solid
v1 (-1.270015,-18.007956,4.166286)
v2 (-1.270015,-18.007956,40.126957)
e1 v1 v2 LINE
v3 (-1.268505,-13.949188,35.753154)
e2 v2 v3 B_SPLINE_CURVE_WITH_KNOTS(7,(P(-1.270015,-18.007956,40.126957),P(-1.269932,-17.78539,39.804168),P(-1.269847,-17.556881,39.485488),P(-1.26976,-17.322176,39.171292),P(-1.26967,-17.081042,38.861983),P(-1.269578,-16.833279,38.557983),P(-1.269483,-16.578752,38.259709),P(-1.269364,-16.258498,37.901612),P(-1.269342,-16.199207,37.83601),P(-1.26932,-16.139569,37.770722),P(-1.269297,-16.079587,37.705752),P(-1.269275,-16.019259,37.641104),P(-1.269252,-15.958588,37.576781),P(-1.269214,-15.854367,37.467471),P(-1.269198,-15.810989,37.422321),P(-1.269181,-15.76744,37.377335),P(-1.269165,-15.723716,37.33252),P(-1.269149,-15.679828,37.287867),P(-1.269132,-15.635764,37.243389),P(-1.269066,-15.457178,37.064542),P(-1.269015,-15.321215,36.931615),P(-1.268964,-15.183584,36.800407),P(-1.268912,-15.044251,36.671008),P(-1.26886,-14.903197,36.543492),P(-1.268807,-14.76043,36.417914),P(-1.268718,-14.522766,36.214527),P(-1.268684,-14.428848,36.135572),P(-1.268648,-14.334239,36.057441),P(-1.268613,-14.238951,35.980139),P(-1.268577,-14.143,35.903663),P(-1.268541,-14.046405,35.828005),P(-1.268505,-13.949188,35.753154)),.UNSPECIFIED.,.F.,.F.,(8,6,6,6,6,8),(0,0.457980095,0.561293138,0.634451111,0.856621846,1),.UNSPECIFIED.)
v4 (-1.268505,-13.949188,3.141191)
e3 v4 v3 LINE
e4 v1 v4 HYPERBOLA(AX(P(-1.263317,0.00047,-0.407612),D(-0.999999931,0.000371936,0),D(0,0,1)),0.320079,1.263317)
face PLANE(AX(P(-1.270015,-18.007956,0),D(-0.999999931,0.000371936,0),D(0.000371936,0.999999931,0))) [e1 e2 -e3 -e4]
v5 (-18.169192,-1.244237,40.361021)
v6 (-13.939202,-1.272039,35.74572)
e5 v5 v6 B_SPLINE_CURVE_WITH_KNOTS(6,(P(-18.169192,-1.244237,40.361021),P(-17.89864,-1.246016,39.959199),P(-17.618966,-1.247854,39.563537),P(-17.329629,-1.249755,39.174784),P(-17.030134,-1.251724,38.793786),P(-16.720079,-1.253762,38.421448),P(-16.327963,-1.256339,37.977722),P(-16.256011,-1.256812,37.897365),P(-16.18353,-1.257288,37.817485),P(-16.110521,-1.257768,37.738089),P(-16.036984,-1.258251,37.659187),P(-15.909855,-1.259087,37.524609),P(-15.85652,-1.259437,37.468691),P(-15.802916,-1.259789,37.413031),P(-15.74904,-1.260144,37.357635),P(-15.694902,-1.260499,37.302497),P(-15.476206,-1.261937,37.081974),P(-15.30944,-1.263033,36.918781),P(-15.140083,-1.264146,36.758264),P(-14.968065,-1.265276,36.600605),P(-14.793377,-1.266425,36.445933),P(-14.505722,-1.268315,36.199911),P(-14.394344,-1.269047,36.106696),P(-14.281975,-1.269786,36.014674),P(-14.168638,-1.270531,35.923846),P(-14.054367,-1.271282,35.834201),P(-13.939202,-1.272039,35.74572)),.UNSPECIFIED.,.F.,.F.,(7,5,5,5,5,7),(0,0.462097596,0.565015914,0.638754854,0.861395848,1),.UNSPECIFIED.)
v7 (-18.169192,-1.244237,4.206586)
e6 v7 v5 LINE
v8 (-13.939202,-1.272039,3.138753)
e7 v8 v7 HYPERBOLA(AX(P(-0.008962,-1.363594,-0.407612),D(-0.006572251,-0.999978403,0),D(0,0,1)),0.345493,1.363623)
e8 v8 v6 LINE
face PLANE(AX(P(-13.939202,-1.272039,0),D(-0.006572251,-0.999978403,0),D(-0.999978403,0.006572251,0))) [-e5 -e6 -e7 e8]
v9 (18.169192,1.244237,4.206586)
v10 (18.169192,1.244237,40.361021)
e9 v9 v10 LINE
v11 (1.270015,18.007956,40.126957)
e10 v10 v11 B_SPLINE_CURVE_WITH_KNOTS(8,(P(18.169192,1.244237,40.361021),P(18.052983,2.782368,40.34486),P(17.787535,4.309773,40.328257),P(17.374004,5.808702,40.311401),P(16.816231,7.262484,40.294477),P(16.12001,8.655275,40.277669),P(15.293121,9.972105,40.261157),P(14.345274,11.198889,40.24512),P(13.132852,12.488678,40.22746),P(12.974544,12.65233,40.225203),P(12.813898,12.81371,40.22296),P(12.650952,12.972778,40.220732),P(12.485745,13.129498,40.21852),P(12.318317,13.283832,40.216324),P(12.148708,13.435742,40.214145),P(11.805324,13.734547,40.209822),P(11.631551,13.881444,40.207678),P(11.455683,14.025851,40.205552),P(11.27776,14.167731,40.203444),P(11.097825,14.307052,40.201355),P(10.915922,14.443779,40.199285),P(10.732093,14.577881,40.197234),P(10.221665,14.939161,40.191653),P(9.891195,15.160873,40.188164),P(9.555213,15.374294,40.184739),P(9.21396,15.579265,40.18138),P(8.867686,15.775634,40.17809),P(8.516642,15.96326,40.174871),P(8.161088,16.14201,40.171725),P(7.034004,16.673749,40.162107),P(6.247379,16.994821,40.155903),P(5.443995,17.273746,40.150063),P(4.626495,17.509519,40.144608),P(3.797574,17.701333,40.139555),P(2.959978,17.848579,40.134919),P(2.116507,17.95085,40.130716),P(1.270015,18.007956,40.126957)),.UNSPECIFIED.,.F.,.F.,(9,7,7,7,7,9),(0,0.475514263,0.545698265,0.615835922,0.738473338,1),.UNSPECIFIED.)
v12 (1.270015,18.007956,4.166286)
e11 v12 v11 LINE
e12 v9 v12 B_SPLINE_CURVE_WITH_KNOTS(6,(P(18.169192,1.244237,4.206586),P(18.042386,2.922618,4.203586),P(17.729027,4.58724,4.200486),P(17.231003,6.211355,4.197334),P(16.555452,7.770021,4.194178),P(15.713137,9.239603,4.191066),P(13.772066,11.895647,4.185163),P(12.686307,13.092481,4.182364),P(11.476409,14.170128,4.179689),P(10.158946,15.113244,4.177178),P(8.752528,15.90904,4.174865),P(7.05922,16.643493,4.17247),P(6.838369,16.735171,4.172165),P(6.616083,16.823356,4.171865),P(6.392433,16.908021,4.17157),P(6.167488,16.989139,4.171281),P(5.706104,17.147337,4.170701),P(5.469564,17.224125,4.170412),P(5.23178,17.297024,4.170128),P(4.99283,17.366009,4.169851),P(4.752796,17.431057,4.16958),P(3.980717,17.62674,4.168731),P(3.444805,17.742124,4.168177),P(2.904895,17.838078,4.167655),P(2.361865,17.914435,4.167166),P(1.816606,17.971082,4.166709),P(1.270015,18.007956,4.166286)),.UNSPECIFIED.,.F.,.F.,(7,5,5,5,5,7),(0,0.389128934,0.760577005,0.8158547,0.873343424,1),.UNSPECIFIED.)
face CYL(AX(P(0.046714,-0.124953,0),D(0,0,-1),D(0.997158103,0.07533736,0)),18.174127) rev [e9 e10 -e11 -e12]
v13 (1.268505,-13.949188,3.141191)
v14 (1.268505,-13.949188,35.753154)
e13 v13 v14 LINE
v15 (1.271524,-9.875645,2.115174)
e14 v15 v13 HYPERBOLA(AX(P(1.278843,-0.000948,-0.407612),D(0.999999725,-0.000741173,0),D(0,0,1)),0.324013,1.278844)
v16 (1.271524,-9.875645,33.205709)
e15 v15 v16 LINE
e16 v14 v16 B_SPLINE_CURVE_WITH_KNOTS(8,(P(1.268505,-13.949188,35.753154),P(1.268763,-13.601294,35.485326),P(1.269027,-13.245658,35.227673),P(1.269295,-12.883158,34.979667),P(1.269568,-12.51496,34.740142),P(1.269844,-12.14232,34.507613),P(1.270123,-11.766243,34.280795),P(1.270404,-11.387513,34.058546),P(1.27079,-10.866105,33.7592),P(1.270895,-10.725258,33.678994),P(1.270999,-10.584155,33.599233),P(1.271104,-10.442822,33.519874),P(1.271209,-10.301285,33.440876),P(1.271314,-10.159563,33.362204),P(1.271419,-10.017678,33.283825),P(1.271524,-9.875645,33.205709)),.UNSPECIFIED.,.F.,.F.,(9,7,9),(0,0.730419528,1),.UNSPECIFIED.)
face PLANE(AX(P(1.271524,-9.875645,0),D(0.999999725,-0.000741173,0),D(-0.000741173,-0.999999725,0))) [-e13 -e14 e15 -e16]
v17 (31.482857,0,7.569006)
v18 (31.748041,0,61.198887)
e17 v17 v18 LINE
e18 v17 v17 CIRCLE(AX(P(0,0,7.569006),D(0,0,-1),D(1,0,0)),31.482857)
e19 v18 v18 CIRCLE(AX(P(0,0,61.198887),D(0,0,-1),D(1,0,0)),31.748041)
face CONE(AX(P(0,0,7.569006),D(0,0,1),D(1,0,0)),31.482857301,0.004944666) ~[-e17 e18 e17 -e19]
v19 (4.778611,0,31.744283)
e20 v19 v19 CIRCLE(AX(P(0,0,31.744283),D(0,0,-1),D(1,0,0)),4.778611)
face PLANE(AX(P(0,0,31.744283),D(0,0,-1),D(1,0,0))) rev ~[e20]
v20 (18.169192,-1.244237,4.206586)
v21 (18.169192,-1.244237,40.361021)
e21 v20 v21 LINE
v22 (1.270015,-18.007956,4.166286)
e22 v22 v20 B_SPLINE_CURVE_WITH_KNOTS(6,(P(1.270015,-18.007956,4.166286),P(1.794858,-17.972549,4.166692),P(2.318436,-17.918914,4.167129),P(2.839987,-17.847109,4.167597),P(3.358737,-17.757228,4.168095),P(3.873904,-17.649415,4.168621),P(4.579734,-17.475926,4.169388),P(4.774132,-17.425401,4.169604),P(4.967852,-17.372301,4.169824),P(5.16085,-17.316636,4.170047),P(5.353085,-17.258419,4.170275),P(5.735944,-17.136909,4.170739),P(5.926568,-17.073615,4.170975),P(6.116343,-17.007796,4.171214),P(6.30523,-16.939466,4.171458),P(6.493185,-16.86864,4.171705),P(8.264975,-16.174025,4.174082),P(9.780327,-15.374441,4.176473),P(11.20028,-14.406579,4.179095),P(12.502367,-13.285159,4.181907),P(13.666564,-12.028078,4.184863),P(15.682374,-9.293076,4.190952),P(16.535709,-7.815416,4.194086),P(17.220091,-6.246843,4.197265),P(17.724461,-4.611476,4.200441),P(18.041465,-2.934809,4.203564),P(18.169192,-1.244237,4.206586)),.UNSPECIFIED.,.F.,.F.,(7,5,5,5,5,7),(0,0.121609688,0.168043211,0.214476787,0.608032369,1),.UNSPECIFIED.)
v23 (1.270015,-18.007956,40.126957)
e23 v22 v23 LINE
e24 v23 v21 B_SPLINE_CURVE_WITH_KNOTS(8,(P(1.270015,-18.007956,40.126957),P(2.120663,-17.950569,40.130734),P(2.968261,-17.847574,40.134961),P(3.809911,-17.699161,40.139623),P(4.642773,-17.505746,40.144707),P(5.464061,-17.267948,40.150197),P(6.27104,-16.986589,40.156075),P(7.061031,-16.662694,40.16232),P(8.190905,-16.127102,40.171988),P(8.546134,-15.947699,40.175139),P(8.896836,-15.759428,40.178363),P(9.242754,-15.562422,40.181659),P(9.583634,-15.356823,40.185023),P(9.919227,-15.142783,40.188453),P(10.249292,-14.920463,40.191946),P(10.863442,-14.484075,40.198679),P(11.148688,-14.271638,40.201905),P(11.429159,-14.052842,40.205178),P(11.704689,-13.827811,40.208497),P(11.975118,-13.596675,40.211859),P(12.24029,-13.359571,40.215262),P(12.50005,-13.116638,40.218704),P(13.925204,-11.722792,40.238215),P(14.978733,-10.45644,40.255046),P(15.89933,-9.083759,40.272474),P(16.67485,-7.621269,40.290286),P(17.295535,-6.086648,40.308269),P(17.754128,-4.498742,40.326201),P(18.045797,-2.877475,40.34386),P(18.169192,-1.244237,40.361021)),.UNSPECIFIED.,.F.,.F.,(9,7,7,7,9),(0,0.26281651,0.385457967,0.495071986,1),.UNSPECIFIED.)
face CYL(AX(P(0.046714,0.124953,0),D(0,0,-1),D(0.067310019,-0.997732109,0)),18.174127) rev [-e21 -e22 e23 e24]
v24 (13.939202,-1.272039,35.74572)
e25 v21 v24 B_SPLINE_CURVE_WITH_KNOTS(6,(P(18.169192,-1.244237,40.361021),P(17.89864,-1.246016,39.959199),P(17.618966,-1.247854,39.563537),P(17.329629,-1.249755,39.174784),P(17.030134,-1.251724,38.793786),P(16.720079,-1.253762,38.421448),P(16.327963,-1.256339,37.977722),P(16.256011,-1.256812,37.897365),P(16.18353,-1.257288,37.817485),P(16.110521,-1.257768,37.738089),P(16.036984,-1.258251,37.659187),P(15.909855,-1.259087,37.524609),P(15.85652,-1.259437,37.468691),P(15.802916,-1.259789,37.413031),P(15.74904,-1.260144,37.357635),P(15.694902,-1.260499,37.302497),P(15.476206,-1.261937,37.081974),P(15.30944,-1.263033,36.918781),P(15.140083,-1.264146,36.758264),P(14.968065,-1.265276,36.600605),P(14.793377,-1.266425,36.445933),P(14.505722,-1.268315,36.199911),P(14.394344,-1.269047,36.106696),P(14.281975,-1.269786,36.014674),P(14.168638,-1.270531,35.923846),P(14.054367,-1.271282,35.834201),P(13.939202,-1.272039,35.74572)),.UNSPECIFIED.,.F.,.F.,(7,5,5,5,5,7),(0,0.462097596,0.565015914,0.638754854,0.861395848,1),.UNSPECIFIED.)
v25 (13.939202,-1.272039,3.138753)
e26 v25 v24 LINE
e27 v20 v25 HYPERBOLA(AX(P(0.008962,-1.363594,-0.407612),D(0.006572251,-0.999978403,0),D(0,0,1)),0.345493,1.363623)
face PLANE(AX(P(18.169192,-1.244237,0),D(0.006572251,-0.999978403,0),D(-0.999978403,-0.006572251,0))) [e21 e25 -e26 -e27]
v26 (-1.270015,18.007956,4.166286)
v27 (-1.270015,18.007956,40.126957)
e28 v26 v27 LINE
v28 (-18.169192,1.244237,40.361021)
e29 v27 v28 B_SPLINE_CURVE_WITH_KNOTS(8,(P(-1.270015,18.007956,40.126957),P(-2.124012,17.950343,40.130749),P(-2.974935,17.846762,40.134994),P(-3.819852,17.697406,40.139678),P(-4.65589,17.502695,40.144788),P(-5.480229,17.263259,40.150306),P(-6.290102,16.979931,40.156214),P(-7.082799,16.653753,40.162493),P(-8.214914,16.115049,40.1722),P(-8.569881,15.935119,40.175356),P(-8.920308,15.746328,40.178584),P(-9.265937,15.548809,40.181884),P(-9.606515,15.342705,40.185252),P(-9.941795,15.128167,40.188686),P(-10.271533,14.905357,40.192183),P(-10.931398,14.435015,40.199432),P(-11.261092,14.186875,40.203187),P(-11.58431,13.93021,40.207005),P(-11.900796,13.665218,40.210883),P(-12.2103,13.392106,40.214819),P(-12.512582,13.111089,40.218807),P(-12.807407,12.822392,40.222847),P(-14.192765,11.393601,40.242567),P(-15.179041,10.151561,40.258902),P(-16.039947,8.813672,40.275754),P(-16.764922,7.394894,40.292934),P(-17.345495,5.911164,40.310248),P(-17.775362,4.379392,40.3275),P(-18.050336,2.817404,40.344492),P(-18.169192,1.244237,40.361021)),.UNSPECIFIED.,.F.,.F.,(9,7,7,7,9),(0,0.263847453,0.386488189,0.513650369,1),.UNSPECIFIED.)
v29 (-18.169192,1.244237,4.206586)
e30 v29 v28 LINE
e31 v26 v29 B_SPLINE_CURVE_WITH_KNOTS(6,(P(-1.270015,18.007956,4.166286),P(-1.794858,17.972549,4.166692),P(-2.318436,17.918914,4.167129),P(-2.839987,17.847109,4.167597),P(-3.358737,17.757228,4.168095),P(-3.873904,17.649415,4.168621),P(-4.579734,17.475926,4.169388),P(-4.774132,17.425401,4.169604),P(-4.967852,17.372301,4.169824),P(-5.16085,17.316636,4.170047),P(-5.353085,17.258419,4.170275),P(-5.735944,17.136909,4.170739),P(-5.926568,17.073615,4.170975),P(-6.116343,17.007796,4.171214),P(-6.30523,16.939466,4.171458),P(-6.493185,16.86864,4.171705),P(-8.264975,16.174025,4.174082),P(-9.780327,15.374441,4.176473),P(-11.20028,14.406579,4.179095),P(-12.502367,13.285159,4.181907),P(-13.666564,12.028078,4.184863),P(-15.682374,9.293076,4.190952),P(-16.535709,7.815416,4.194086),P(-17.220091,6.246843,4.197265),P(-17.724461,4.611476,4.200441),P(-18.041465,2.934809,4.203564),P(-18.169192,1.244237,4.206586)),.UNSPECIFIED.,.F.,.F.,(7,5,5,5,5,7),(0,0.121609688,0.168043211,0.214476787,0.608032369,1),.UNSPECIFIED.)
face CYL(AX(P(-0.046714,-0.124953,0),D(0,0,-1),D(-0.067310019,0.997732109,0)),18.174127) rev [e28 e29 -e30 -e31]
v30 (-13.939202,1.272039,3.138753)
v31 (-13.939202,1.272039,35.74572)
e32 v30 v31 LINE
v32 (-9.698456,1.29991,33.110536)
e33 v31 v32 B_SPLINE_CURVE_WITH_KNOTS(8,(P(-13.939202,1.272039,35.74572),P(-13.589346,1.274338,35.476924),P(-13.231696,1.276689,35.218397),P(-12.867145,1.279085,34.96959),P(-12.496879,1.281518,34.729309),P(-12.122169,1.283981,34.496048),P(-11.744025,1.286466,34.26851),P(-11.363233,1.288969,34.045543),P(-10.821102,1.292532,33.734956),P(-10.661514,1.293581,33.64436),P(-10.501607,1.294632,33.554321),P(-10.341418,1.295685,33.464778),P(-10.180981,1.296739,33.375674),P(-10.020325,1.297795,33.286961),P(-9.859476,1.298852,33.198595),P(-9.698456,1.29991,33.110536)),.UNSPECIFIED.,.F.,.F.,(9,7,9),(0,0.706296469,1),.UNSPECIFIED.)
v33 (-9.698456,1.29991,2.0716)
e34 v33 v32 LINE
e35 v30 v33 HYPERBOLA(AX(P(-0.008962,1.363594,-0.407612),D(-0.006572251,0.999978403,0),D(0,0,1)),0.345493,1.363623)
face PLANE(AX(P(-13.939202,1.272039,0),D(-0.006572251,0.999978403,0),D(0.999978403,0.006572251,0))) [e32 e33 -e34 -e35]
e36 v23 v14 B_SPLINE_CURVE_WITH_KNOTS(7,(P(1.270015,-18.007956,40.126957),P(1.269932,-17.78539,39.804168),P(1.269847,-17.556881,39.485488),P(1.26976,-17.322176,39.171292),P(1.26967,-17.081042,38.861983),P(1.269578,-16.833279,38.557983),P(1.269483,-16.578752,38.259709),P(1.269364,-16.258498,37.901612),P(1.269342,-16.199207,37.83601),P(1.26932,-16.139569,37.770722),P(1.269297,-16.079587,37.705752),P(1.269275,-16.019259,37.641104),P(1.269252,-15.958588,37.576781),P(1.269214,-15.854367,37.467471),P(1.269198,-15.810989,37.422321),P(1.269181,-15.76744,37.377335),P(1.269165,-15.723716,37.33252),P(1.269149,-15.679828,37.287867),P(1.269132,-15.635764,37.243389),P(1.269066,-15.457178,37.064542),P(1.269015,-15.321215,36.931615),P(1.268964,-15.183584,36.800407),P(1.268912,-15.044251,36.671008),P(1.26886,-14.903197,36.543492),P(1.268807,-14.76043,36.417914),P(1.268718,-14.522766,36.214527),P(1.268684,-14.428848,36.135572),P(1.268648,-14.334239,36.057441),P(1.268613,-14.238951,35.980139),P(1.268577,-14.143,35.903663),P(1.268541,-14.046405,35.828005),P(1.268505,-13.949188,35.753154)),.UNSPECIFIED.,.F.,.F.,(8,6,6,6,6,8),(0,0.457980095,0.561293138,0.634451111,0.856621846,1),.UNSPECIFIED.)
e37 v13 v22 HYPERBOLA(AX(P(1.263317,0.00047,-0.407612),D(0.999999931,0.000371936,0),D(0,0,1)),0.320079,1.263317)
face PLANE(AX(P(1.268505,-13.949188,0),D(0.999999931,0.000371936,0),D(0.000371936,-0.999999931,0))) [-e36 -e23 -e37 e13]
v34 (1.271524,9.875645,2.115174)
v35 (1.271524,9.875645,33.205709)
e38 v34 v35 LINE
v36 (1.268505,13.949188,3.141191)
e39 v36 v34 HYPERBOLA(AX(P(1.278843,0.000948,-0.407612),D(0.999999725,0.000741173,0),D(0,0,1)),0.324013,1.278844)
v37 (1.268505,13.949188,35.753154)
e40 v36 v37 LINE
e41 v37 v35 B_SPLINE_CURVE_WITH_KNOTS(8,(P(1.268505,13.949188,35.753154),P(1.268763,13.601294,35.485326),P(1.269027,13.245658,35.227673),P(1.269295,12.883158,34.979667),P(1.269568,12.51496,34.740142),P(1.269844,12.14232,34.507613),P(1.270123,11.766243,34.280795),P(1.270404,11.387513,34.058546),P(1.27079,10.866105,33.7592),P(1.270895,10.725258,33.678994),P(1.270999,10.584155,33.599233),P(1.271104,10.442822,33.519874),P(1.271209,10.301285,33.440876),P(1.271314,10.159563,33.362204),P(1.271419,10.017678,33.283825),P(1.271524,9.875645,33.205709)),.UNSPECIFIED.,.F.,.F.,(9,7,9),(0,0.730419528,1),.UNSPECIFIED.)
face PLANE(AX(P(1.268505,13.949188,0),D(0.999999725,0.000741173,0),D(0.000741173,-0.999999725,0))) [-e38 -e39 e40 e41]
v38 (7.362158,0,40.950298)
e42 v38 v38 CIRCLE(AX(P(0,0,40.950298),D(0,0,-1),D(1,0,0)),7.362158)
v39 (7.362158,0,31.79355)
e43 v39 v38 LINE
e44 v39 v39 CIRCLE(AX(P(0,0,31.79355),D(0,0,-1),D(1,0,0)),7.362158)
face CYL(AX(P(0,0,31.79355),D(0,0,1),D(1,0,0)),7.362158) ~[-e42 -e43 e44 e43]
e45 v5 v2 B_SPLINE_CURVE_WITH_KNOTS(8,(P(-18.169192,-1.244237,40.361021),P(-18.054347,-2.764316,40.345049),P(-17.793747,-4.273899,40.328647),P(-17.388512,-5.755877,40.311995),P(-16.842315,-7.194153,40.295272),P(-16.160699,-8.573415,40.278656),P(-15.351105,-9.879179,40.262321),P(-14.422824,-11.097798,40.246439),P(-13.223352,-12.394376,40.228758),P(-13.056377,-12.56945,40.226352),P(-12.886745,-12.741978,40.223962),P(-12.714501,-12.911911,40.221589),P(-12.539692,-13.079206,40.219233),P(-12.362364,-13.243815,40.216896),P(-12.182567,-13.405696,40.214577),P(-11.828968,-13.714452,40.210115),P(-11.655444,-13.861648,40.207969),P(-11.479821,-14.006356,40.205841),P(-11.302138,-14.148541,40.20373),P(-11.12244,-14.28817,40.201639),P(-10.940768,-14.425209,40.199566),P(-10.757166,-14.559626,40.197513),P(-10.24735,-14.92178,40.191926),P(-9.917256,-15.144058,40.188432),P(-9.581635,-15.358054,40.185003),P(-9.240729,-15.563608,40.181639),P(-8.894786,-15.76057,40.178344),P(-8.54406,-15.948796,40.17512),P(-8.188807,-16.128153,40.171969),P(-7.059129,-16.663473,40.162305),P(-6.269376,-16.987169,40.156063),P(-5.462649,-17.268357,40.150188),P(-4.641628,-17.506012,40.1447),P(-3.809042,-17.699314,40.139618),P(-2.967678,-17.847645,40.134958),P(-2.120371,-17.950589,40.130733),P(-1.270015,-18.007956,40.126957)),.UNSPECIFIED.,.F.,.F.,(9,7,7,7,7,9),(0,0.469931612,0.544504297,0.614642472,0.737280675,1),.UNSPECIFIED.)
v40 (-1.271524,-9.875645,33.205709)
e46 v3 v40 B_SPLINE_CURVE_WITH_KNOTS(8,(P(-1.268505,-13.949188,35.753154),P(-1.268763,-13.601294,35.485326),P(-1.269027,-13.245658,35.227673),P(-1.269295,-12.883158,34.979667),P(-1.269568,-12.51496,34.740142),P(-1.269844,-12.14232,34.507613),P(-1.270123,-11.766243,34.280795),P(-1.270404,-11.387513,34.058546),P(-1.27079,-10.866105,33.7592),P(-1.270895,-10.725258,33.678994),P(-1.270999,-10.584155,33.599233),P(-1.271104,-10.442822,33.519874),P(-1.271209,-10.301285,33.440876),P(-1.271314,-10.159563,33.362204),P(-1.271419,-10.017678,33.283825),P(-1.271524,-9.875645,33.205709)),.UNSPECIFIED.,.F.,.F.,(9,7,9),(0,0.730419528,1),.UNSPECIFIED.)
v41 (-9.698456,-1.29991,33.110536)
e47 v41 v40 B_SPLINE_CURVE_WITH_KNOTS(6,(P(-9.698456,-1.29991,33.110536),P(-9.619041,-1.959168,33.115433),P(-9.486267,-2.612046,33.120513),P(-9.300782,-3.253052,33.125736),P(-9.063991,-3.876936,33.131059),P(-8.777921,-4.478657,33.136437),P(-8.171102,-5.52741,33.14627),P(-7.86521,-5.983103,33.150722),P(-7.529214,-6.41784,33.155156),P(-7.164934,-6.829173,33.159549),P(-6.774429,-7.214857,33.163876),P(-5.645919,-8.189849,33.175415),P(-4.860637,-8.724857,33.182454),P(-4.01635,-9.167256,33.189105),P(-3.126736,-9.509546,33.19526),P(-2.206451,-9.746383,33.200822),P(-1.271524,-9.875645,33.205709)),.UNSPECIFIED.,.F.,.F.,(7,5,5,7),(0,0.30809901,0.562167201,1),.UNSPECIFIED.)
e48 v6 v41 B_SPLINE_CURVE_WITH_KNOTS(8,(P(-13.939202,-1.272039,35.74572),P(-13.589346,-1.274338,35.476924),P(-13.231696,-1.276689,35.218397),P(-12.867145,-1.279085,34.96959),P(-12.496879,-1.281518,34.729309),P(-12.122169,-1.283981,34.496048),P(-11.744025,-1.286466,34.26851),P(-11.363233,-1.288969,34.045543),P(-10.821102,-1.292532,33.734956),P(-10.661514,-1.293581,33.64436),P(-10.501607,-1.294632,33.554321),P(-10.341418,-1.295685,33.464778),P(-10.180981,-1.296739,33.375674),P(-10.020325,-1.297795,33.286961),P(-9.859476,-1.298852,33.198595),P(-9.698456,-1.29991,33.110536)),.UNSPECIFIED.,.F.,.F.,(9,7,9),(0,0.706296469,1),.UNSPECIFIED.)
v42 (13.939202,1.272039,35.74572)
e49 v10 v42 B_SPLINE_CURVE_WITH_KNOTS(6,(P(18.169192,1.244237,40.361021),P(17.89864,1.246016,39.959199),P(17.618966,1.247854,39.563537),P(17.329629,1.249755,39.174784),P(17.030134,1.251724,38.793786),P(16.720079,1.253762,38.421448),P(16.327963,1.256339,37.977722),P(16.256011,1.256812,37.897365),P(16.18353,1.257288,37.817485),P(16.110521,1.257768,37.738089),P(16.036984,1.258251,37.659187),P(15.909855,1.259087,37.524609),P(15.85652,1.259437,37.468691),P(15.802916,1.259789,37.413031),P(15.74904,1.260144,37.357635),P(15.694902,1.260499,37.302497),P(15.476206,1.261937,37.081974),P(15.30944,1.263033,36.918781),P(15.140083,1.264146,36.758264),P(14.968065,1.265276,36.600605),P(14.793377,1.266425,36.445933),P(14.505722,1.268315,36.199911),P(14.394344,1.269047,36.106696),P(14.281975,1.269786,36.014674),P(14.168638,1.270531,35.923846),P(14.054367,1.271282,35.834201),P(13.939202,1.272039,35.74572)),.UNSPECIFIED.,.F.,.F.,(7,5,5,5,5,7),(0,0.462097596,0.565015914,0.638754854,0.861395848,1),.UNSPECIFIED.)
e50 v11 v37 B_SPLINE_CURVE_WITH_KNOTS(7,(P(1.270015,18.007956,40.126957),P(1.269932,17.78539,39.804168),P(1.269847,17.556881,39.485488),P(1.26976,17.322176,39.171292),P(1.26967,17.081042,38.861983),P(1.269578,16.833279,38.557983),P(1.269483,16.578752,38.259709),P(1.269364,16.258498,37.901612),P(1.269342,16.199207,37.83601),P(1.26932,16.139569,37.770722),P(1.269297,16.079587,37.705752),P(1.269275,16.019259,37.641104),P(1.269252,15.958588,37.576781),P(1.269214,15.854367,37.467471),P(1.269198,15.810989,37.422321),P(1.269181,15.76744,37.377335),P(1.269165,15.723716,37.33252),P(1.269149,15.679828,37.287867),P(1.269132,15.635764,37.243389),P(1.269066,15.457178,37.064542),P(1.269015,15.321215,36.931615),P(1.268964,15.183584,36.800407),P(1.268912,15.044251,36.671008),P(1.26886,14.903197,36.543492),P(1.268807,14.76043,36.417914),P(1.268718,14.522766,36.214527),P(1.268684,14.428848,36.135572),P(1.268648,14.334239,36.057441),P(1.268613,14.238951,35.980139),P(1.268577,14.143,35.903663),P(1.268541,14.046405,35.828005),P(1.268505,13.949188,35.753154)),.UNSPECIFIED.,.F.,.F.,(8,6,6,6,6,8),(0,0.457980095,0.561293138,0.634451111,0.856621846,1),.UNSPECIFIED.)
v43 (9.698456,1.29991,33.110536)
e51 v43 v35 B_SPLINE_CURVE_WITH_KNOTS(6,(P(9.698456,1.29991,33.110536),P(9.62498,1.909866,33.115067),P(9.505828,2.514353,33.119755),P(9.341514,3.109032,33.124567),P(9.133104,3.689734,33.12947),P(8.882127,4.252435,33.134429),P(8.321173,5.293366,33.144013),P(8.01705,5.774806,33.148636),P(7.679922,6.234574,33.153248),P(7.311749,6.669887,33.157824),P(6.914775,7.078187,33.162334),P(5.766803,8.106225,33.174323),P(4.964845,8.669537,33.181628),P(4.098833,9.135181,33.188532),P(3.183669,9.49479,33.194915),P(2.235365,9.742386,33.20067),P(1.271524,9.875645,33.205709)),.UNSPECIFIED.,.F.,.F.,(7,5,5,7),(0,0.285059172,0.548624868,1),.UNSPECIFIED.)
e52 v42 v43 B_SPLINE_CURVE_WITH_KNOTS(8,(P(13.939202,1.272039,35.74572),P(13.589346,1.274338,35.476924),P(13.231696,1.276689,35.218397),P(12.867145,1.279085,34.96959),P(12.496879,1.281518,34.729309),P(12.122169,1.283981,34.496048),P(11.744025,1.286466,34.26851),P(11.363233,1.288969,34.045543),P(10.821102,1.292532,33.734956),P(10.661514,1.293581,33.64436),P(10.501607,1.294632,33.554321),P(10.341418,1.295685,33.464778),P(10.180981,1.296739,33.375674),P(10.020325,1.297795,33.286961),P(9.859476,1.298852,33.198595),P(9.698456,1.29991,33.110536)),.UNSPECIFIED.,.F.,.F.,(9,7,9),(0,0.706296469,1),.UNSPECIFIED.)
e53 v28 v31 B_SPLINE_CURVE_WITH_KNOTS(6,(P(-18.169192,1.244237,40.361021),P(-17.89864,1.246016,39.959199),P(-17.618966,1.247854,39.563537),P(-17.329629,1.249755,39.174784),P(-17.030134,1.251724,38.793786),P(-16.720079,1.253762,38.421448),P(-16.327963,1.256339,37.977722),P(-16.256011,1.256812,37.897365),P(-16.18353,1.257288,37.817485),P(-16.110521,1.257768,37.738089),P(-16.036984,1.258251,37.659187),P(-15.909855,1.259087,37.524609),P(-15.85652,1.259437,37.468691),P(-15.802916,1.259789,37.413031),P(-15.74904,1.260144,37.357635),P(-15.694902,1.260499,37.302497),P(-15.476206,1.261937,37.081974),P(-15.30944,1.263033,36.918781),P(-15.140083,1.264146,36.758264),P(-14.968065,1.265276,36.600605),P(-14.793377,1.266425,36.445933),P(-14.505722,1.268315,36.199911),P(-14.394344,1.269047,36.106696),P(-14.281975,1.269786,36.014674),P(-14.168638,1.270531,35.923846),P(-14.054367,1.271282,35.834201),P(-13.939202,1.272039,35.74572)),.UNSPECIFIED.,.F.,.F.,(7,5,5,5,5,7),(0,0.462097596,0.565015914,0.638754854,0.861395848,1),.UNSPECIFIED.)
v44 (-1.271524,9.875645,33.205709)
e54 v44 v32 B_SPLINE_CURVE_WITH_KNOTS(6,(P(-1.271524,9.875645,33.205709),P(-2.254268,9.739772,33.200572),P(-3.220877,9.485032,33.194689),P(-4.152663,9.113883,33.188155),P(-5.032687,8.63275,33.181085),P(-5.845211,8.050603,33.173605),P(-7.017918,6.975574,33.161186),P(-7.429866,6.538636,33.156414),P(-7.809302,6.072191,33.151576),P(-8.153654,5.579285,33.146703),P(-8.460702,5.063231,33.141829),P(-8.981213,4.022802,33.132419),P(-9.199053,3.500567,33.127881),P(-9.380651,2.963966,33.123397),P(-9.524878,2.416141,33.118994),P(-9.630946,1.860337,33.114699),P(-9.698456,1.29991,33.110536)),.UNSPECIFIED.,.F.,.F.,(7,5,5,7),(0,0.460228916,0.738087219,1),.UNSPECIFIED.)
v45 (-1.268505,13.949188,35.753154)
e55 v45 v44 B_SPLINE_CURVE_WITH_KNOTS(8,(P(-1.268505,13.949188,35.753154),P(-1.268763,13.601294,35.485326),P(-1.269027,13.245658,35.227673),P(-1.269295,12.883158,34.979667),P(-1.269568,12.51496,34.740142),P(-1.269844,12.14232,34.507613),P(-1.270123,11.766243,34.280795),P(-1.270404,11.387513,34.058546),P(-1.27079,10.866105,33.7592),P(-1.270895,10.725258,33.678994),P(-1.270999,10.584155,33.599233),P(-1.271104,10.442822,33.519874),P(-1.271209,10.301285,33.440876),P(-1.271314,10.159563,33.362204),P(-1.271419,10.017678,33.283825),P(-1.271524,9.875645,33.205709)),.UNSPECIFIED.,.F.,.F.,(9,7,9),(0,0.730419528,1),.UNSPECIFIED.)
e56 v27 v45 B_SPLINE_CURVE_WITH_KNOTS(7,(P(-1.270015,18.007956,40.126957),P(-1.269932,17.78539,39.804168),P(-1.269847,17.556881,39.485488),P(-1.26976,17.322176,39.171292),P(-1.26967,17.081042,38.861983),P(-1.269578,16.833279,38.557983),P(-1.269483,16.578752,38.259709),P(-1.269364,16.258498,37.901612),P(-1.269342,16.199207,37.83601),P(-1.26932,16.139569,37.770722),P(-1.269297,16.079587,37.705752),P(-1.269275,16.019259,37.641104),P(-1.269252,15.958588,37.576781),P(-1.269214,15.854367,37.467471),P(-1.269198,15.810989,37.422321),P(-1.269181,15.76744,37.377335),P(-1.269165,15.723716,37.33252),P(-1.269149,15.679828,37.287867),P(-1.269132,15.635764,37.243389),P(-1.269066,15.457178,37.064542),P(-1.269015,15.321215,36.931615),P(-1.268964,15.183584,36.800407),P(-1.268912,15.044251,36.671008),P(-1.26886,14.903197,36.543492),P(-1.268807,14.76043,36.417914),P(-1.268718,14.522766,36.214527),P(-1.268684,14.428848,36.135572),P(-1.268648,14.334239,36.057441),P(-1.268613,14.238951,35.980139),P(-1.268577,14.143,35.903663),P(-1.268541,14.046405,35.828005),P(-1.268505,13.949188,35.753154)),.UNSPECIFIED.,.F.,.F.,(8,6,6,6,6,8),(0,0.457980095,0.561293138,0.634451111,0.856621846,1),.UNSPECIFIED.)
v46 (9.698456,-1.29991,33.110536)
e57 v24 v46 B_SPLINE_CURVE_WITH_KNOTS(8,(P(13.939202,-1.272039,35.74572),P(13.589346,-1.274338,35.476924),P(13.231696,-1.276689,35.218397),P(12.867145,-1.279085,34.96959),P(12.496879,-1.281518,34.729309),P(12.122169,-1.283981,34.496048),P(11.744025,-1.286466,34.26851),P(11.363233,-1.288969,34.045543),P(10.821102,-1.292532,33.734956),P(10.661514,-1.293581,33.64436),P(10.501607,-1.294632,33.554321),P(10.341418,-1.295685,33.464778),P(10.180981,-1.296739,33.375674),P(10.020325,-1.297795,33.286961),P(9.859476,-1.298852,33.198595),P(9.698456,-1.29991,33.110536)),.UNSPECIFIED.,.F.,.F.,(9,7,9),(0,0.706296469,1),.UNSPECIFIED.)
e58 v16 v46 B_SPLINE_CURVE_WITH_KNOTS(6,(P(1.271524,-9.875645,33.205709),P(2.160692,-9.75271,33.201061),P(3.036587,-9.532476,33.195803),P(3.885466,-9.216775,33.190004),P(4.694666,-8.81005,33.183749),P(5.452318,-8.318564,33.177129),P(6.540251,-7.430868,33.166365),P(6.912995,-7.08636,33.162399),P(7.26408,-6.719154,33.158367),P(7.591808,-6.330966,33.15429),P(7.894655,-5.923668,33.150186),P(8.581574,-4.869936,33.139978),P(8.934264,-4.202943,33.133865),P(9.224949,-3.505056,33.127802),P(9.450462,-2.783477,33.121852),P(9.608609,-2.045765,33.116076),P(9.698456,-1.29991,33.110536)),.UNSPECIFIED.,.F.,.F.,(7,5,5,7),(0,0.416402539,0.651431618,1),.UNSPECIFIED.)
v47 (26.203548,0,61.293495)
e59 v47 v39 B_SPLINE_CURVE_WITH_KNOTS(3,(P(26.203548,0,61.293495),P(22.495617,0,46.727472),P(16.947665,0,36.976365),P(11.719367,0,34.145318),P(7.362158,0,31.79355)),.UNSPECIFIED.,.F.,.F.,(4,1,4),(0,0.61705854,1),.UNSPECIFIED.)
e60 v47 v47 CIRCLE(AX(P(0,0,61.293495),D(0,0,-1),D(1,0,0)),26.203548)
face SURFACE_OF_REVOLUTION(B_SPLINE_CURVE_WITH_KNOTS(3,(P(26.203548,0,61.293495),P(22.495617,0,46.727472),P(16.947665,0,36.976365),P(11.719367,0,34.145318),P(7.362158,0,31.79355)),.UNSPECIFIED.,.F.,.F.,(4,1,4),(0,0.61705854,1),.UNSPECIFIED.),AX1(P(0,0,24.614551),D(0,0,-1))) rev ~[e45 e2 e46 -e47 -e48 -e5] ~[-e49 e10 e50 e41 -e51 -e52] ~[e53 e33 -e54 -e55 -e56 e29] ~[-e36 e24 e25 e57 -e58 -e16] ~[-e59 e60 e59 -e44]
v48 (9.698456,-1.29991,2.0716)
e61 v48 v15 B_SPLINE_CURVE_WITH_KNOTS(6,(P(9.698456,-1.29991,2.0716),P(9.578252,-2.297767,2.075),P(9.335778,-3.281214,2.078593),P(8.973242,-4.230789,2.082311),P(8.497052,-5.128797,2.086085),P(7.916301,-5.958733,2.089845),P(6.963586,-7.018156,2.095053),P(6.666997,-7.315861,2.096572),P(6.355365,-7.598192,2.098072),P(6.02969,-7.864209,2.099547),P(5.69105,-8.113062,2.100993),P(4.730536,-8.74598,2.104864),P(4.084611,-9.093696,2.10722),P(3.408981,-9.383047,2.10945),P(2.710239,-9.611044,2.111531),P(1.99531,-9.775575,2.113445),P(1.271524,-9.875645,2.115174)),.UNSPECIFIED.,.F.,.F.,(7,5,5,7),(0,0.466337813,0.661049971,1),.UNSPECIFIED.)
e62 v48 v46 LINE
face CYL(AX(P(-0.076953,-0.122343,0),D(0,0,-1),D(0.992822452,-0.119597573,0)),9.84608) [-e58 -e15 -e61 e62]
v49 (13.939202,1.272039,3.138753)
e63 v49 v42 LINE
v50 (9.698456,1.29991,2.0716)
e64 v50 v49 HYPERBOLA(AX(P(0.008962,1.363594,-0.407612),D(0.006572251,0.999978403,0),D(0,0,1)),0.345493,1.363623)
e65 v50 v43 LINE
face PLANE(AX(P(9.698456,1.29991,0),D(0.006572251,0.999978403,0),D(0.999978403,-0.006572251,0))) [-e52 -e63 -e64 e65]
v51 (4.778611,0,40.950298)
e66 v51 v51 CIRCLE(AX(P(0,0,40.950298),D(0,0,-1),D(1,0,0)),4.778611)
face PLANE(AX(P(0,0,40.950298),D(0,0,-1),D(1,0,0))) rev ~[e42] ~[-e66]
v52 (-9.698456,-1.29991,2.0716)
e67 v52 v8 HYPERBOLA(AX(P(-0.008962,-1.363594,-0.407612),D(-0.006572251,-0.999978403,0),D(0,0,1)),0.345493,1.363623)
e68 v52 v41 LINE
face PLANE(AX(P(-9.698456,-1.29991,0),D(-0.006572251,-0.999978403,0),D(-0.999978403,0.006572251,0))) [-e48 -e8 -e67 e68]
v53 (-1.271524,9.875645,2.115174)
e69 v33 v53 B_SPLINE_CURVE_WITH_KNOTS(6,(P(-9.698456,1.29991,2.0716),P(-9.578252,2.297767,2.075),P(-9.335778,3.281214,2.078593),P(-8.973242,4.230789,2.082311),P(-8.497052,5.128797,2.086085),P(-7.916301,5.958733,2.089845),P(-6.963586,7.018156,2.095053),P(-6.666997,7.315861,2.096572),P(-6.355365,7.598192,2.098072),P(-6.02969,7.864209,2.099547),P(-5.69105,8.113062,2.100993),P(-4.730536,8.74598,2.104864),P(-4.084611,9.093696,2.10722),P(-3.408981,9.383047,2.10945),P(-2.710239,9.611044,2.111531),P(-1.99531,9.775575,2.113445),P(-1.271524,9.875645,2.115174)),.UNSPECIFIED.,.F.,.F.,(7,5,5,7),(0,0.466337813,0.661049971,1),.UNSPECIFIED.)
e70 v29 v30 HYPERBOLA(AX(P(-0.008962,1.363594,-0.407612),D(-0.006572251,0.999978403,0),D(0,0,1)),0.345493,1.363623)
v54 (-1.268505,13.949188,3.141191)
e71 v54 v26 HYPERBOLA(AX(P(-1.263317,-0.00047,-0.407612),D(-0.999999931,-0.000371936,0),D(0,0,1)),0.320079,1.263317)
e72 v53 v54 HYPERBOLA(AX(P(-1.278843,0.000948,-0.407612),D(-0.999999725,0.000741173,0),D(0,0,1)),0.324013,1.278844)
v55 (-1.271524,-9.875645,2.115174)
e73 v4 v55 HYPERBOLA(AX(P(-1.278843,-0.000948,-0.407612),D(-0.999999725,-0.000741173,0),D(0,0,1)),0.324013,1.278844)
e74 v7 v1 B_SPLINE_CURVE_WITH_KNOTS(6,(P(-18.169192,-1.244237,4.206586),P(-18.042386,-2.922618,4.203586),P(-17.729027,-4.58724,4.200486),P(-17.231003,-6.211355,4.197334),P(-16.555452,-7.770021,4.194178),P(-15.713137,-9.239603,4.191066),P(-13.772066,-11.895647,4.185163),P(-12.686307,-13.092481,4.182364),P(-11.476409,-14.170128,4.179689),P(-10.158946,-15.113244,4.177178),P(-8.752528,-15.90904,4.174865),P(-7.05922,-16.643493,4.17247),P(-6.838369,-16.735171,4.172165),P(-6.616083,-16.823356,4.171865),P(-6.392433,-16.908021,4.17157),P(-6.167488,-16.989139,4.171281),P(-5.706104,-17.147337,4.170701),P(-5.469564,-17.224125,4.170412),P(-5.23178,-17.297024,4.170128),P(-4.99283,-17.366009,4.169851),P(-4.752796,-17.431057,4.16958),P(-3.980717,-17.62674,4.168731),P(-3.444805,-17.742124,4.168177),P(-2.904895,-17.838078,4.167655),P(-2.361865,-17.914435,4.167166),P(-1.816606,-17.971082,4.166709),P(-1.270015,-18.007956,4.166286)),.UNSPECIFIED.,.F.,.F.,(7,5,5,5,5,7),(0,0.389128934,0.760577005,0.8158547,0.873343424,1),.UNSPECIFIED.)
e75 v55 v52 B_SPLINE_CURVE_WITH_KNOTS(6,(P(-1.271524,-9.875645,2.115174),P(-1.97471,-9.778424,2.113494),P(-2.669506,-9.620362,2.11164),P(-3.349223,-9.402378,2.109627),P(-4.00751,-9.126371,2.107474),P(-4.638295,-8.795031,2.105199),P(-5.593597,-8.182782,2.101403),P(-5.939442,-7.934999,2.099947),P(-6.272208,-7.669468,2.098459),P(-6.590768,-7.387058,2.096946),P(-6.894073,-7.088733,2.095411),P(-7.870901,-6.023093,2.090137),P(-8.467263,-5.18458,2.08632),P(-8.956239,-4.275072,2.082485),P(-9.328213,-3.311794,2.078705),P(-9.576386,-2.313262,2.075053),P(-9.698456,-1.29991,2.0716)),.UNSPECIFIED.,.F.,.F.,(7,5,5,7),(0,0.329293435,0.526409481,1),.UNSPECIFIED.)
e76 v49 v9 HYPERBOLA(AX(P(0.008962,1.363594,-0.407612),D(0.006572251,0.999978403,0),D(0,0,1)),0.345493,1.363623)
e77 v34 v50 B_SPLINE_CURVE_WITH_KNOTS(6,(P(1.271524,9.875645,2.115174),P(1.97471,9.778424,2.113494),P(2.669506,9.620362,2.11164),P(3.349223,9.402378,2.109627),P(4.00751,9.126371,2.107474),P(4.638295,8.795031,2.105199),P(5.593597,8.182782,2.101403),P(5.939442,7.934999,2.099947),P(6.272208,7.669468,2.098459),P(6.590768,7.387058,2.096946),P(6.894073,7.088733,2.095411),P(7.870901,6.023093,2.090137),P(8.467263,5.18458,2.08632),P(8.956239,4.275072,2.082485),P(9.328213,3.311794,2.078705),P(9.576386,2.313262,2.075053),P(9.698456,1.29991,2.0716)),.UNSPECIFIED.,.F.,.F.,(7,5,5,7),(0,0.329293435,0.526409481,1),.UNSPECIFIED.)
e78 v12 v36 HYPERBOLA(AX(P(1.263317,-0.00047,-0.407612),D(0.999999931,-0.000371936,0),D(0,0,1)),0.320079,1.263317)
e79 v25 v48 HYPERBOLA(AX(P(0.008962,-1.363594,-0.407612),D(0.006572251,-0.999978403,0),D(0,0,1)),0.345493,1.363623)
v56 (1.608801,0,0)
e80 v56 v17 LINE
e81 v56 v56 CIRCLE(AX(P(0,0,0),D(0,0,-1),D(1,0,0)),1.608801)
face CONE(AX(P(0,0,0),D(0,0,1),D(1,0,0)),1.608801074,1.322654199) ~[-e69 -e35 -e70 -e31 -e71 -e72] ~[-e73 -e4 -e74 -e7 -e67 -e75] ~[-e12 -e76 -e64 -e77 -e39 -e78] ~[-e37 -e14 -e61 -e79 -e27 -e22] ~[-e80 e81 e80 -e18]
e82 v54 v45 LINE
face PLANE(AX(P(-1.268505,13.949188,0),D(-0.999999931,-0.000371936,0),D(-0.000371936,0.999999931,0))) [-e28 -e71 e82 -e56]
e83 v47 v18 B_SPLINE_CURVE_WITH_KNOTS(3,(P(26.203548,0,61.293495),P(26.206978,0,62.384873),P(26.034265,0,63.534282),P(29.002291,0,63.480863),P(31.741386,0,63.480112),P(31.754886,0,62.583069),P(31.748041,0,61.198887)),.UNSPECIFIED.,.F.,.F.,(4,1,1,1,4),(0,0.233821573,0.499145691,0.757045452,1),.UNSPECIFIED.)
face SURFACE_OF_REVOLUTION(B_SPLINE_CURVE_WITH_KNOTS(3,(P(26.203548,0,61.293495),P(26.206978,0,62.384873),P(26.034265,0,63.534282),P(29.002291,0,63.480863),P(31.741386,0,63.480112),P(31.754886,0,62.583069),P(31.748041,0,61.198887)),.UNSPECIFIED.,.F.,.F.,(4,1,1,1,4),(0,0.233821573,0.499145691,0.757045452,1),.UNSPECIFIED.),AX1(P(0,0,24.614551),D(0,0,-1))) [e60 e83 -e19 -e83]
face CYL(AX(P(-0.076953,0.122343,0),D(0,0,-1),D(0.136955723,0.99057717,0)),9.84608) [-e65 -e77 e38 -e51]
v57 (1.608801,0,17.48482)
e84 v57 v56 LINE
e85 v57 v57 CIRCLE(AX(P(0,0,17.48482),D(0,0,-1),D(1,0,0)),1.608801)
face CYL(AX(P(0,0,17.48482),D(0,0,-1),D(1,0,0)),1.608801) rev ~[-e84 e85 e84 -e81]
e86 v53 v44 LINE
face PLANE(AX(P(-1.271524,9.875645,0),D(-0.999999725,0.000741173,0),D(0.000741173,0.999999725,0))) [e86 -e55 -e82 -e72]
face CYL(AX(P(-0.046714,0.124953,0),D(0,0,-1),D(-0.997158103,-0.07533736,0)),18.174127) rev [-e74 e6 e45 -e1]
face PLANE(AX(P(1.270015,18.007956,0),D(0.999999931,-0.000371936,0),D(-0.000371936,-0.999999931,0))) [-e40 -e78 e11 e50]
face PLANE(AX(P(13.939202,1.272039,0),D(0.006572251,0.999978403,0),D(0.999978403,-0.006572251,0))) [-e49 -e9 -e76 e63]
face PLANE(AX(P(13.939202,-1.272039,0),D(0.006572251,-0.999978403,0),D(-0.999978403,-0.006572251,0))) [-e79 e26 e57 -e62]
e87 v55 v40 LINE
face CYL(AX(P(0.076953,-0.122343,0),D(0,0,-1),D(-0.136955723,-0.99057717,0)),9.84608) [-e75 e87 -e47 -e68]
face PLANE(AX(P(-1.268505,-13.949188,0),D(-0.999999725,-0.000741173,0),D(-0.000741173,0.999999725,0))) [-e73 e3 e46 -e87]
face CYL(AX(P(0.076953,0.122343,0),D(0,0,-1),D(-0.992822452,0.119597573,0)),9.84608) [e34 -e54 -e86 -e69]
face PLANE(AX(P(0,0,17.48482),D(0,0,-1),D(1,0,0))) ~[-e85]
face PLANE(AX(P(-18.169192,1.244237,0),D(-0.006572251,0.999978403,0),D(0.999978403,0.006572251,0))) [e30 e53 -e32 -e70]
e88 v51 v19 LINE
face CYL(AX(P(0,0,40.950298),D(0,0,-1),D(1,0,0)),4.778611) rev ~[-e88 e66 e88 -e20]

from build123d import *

# Parameters (mm, degrees)
F3_DEPTH = 44.45


with BuildPart() as f1:
    # F0 (on Front) → F1 (revolve)
    with BuildSketch(Plane.XZ):
        with BuildLine():
            Line((1.6088010743, 17.4848195165), (1.6088010743, 0))
            Line((1.6088010743, 0), (31.4828573014, 7.5690059866))
            Line((31.4828573014, 7.5690059866), (31.7480413082, 61.1988871051))
            add(Edge.make_bspline(
                [(26.2035475697, 61.2934945888), (26.2069776562, 62.3848731531), (26.0342650246, 63.5342821105), (29.0022907923, 63.4808628001), (31.7413857824, 63.4801116025), (31.754885683, 62.5830694003), (31.7480413082, 61.1988871051)],
                knots=[0, 0, 0, 0, 0.2338215729, 0.4991456914, 0.757045452, 1, 1, 1, 1], degree=3))
            add(Edge.make_bspline(
                [(26.2035475697, 61.2934945888), (22.4956165663, 46.7274721388), (16.9476646355, 36.9763651458), (11.7193665355, 34.1453179717), (7.3621575721, 31.7935502243)],
                knots=[0, 0, 0, 0, 0.6170585405, 1, 1, 1, 1], degree=3))
            Line((7.3621575721, 31.7935502243), (7.3621575721, 40.9502983093))
            Line((7.3621575721, 40.9502983093), (4.7786105424, 40.9502983093))
            Line((4.7786105424, 40.9502983093), (4.7786105424, 31.7442826927))
            Line((4.7786105424, 31.7442826927), (0, 31.7442826927))
            Line((0, 31.7442826927), (0, 17.4848195165))
            Line((0, 17.4848195165), (1.6088010743, 17.4848195165))
        make_face()
    revolve(axis=Axis((0, 0, 24.6145511046), (0, 0, -1)))

    # F2 (on Top) → F3 (cut)
    with BuildSketch(Plane.XY):
        with BuildLine():
            Line((-18.1691916227, 1.2442374048), (-13.9392020646, 1.2720385566))
            Line((-13.9392020646, 1.2720385566), (-9.698456327, 1.2999104023))
            ThreePointArc((-9.698456327, 1.2999104023), (-6.9459395804, 7.0233771429), (-1.2715243209, 9.8756449134))
            Line((-1.2715243209, 9.8756449134), (-1.2685051188, 13.9491879381))
            Line((-1.2685051188, 13.9491879381), (-1.2700147199, 18.0079564452))
            ThreePointArc((-1.2700147199, 18.0079564452), (-12.8459465301, 12.777702446), (-18.1691916227, 1.2442374048))
        make_face()
        with BuildLine():
            Line((1.2700147199, 18.0079564452), (1.2685051188, 13.9491879381))
            Line((1.2685051188, 13.9491879381), (1.2715243209, 9.8756449134))
            ThreePointArc((1.2715243209, 9.8756449134), (6.9459395804, 7.0233771429), (9.698456327, 1.2999104023))
            Line((9.698456327, 1.2999104023), (13.9392020646, 1.2720385566))
            Line((13.9392020646, 1.2720385566), (18.1691916227, 1.2442374048))
            ThreePointArc((18.1691916227, 1.2442374048), (12.8459465301, 12.777702446), (1.2700147199, 18.0079564452))
        make_face()
        with BuildLine():
            Line((-1.2685051188, -13.9491879381), (-1.2715243209, -9.8756449134))
            ThreePointArc((-1.2715243209, -9.8756449134), (-6.9459395804, -7.0233771429), (-9.698456327, -1.2999104023))
            Line((-9.698456327, -1.2999104023), (-13.9392020646, -1.2720385566))
            Line((-13.9392020646, -1.2720385566), (-18.1691916227, -1.2442374048))
            ThreePointArc((-18.1691916227, -1.2442374048), (-12.8459465301, -12.777702446), (-1.2700147199, -18.0079564452))
            Line((-1.2700147199, -18.0079564452), (-1.2685051188, -13.9491879381))
        make_face()
        with BuildLine():
            ThreePointArc((9.698456327, -1.2999104023), (6.9459395804, -7.0233771429), (1.2715243209, -9.8756449134))
            Line((1.2715243209, -9.8756449134), (1.2685051188, -13.9491879381))
            Line((1.2685051188, -13.9491879381), (1.2700147199, -18.0079564452))
            ThreePointArc((1.2700147199, -18.0079564452), (12.8459465301, -12.777702446), (18.1691916227, -1.2442374048))
            Line((18.1691916227, -1.2442374048), (13.9392020646, -1.2720385566))
            Line((13.9392020646, -1.2720385566), (9.698456327, -1.2999104023))
        make_face()
    extrude(amount=F3_DEPTH, mode=Mode.SUBTRACT)


solid = f1.part
